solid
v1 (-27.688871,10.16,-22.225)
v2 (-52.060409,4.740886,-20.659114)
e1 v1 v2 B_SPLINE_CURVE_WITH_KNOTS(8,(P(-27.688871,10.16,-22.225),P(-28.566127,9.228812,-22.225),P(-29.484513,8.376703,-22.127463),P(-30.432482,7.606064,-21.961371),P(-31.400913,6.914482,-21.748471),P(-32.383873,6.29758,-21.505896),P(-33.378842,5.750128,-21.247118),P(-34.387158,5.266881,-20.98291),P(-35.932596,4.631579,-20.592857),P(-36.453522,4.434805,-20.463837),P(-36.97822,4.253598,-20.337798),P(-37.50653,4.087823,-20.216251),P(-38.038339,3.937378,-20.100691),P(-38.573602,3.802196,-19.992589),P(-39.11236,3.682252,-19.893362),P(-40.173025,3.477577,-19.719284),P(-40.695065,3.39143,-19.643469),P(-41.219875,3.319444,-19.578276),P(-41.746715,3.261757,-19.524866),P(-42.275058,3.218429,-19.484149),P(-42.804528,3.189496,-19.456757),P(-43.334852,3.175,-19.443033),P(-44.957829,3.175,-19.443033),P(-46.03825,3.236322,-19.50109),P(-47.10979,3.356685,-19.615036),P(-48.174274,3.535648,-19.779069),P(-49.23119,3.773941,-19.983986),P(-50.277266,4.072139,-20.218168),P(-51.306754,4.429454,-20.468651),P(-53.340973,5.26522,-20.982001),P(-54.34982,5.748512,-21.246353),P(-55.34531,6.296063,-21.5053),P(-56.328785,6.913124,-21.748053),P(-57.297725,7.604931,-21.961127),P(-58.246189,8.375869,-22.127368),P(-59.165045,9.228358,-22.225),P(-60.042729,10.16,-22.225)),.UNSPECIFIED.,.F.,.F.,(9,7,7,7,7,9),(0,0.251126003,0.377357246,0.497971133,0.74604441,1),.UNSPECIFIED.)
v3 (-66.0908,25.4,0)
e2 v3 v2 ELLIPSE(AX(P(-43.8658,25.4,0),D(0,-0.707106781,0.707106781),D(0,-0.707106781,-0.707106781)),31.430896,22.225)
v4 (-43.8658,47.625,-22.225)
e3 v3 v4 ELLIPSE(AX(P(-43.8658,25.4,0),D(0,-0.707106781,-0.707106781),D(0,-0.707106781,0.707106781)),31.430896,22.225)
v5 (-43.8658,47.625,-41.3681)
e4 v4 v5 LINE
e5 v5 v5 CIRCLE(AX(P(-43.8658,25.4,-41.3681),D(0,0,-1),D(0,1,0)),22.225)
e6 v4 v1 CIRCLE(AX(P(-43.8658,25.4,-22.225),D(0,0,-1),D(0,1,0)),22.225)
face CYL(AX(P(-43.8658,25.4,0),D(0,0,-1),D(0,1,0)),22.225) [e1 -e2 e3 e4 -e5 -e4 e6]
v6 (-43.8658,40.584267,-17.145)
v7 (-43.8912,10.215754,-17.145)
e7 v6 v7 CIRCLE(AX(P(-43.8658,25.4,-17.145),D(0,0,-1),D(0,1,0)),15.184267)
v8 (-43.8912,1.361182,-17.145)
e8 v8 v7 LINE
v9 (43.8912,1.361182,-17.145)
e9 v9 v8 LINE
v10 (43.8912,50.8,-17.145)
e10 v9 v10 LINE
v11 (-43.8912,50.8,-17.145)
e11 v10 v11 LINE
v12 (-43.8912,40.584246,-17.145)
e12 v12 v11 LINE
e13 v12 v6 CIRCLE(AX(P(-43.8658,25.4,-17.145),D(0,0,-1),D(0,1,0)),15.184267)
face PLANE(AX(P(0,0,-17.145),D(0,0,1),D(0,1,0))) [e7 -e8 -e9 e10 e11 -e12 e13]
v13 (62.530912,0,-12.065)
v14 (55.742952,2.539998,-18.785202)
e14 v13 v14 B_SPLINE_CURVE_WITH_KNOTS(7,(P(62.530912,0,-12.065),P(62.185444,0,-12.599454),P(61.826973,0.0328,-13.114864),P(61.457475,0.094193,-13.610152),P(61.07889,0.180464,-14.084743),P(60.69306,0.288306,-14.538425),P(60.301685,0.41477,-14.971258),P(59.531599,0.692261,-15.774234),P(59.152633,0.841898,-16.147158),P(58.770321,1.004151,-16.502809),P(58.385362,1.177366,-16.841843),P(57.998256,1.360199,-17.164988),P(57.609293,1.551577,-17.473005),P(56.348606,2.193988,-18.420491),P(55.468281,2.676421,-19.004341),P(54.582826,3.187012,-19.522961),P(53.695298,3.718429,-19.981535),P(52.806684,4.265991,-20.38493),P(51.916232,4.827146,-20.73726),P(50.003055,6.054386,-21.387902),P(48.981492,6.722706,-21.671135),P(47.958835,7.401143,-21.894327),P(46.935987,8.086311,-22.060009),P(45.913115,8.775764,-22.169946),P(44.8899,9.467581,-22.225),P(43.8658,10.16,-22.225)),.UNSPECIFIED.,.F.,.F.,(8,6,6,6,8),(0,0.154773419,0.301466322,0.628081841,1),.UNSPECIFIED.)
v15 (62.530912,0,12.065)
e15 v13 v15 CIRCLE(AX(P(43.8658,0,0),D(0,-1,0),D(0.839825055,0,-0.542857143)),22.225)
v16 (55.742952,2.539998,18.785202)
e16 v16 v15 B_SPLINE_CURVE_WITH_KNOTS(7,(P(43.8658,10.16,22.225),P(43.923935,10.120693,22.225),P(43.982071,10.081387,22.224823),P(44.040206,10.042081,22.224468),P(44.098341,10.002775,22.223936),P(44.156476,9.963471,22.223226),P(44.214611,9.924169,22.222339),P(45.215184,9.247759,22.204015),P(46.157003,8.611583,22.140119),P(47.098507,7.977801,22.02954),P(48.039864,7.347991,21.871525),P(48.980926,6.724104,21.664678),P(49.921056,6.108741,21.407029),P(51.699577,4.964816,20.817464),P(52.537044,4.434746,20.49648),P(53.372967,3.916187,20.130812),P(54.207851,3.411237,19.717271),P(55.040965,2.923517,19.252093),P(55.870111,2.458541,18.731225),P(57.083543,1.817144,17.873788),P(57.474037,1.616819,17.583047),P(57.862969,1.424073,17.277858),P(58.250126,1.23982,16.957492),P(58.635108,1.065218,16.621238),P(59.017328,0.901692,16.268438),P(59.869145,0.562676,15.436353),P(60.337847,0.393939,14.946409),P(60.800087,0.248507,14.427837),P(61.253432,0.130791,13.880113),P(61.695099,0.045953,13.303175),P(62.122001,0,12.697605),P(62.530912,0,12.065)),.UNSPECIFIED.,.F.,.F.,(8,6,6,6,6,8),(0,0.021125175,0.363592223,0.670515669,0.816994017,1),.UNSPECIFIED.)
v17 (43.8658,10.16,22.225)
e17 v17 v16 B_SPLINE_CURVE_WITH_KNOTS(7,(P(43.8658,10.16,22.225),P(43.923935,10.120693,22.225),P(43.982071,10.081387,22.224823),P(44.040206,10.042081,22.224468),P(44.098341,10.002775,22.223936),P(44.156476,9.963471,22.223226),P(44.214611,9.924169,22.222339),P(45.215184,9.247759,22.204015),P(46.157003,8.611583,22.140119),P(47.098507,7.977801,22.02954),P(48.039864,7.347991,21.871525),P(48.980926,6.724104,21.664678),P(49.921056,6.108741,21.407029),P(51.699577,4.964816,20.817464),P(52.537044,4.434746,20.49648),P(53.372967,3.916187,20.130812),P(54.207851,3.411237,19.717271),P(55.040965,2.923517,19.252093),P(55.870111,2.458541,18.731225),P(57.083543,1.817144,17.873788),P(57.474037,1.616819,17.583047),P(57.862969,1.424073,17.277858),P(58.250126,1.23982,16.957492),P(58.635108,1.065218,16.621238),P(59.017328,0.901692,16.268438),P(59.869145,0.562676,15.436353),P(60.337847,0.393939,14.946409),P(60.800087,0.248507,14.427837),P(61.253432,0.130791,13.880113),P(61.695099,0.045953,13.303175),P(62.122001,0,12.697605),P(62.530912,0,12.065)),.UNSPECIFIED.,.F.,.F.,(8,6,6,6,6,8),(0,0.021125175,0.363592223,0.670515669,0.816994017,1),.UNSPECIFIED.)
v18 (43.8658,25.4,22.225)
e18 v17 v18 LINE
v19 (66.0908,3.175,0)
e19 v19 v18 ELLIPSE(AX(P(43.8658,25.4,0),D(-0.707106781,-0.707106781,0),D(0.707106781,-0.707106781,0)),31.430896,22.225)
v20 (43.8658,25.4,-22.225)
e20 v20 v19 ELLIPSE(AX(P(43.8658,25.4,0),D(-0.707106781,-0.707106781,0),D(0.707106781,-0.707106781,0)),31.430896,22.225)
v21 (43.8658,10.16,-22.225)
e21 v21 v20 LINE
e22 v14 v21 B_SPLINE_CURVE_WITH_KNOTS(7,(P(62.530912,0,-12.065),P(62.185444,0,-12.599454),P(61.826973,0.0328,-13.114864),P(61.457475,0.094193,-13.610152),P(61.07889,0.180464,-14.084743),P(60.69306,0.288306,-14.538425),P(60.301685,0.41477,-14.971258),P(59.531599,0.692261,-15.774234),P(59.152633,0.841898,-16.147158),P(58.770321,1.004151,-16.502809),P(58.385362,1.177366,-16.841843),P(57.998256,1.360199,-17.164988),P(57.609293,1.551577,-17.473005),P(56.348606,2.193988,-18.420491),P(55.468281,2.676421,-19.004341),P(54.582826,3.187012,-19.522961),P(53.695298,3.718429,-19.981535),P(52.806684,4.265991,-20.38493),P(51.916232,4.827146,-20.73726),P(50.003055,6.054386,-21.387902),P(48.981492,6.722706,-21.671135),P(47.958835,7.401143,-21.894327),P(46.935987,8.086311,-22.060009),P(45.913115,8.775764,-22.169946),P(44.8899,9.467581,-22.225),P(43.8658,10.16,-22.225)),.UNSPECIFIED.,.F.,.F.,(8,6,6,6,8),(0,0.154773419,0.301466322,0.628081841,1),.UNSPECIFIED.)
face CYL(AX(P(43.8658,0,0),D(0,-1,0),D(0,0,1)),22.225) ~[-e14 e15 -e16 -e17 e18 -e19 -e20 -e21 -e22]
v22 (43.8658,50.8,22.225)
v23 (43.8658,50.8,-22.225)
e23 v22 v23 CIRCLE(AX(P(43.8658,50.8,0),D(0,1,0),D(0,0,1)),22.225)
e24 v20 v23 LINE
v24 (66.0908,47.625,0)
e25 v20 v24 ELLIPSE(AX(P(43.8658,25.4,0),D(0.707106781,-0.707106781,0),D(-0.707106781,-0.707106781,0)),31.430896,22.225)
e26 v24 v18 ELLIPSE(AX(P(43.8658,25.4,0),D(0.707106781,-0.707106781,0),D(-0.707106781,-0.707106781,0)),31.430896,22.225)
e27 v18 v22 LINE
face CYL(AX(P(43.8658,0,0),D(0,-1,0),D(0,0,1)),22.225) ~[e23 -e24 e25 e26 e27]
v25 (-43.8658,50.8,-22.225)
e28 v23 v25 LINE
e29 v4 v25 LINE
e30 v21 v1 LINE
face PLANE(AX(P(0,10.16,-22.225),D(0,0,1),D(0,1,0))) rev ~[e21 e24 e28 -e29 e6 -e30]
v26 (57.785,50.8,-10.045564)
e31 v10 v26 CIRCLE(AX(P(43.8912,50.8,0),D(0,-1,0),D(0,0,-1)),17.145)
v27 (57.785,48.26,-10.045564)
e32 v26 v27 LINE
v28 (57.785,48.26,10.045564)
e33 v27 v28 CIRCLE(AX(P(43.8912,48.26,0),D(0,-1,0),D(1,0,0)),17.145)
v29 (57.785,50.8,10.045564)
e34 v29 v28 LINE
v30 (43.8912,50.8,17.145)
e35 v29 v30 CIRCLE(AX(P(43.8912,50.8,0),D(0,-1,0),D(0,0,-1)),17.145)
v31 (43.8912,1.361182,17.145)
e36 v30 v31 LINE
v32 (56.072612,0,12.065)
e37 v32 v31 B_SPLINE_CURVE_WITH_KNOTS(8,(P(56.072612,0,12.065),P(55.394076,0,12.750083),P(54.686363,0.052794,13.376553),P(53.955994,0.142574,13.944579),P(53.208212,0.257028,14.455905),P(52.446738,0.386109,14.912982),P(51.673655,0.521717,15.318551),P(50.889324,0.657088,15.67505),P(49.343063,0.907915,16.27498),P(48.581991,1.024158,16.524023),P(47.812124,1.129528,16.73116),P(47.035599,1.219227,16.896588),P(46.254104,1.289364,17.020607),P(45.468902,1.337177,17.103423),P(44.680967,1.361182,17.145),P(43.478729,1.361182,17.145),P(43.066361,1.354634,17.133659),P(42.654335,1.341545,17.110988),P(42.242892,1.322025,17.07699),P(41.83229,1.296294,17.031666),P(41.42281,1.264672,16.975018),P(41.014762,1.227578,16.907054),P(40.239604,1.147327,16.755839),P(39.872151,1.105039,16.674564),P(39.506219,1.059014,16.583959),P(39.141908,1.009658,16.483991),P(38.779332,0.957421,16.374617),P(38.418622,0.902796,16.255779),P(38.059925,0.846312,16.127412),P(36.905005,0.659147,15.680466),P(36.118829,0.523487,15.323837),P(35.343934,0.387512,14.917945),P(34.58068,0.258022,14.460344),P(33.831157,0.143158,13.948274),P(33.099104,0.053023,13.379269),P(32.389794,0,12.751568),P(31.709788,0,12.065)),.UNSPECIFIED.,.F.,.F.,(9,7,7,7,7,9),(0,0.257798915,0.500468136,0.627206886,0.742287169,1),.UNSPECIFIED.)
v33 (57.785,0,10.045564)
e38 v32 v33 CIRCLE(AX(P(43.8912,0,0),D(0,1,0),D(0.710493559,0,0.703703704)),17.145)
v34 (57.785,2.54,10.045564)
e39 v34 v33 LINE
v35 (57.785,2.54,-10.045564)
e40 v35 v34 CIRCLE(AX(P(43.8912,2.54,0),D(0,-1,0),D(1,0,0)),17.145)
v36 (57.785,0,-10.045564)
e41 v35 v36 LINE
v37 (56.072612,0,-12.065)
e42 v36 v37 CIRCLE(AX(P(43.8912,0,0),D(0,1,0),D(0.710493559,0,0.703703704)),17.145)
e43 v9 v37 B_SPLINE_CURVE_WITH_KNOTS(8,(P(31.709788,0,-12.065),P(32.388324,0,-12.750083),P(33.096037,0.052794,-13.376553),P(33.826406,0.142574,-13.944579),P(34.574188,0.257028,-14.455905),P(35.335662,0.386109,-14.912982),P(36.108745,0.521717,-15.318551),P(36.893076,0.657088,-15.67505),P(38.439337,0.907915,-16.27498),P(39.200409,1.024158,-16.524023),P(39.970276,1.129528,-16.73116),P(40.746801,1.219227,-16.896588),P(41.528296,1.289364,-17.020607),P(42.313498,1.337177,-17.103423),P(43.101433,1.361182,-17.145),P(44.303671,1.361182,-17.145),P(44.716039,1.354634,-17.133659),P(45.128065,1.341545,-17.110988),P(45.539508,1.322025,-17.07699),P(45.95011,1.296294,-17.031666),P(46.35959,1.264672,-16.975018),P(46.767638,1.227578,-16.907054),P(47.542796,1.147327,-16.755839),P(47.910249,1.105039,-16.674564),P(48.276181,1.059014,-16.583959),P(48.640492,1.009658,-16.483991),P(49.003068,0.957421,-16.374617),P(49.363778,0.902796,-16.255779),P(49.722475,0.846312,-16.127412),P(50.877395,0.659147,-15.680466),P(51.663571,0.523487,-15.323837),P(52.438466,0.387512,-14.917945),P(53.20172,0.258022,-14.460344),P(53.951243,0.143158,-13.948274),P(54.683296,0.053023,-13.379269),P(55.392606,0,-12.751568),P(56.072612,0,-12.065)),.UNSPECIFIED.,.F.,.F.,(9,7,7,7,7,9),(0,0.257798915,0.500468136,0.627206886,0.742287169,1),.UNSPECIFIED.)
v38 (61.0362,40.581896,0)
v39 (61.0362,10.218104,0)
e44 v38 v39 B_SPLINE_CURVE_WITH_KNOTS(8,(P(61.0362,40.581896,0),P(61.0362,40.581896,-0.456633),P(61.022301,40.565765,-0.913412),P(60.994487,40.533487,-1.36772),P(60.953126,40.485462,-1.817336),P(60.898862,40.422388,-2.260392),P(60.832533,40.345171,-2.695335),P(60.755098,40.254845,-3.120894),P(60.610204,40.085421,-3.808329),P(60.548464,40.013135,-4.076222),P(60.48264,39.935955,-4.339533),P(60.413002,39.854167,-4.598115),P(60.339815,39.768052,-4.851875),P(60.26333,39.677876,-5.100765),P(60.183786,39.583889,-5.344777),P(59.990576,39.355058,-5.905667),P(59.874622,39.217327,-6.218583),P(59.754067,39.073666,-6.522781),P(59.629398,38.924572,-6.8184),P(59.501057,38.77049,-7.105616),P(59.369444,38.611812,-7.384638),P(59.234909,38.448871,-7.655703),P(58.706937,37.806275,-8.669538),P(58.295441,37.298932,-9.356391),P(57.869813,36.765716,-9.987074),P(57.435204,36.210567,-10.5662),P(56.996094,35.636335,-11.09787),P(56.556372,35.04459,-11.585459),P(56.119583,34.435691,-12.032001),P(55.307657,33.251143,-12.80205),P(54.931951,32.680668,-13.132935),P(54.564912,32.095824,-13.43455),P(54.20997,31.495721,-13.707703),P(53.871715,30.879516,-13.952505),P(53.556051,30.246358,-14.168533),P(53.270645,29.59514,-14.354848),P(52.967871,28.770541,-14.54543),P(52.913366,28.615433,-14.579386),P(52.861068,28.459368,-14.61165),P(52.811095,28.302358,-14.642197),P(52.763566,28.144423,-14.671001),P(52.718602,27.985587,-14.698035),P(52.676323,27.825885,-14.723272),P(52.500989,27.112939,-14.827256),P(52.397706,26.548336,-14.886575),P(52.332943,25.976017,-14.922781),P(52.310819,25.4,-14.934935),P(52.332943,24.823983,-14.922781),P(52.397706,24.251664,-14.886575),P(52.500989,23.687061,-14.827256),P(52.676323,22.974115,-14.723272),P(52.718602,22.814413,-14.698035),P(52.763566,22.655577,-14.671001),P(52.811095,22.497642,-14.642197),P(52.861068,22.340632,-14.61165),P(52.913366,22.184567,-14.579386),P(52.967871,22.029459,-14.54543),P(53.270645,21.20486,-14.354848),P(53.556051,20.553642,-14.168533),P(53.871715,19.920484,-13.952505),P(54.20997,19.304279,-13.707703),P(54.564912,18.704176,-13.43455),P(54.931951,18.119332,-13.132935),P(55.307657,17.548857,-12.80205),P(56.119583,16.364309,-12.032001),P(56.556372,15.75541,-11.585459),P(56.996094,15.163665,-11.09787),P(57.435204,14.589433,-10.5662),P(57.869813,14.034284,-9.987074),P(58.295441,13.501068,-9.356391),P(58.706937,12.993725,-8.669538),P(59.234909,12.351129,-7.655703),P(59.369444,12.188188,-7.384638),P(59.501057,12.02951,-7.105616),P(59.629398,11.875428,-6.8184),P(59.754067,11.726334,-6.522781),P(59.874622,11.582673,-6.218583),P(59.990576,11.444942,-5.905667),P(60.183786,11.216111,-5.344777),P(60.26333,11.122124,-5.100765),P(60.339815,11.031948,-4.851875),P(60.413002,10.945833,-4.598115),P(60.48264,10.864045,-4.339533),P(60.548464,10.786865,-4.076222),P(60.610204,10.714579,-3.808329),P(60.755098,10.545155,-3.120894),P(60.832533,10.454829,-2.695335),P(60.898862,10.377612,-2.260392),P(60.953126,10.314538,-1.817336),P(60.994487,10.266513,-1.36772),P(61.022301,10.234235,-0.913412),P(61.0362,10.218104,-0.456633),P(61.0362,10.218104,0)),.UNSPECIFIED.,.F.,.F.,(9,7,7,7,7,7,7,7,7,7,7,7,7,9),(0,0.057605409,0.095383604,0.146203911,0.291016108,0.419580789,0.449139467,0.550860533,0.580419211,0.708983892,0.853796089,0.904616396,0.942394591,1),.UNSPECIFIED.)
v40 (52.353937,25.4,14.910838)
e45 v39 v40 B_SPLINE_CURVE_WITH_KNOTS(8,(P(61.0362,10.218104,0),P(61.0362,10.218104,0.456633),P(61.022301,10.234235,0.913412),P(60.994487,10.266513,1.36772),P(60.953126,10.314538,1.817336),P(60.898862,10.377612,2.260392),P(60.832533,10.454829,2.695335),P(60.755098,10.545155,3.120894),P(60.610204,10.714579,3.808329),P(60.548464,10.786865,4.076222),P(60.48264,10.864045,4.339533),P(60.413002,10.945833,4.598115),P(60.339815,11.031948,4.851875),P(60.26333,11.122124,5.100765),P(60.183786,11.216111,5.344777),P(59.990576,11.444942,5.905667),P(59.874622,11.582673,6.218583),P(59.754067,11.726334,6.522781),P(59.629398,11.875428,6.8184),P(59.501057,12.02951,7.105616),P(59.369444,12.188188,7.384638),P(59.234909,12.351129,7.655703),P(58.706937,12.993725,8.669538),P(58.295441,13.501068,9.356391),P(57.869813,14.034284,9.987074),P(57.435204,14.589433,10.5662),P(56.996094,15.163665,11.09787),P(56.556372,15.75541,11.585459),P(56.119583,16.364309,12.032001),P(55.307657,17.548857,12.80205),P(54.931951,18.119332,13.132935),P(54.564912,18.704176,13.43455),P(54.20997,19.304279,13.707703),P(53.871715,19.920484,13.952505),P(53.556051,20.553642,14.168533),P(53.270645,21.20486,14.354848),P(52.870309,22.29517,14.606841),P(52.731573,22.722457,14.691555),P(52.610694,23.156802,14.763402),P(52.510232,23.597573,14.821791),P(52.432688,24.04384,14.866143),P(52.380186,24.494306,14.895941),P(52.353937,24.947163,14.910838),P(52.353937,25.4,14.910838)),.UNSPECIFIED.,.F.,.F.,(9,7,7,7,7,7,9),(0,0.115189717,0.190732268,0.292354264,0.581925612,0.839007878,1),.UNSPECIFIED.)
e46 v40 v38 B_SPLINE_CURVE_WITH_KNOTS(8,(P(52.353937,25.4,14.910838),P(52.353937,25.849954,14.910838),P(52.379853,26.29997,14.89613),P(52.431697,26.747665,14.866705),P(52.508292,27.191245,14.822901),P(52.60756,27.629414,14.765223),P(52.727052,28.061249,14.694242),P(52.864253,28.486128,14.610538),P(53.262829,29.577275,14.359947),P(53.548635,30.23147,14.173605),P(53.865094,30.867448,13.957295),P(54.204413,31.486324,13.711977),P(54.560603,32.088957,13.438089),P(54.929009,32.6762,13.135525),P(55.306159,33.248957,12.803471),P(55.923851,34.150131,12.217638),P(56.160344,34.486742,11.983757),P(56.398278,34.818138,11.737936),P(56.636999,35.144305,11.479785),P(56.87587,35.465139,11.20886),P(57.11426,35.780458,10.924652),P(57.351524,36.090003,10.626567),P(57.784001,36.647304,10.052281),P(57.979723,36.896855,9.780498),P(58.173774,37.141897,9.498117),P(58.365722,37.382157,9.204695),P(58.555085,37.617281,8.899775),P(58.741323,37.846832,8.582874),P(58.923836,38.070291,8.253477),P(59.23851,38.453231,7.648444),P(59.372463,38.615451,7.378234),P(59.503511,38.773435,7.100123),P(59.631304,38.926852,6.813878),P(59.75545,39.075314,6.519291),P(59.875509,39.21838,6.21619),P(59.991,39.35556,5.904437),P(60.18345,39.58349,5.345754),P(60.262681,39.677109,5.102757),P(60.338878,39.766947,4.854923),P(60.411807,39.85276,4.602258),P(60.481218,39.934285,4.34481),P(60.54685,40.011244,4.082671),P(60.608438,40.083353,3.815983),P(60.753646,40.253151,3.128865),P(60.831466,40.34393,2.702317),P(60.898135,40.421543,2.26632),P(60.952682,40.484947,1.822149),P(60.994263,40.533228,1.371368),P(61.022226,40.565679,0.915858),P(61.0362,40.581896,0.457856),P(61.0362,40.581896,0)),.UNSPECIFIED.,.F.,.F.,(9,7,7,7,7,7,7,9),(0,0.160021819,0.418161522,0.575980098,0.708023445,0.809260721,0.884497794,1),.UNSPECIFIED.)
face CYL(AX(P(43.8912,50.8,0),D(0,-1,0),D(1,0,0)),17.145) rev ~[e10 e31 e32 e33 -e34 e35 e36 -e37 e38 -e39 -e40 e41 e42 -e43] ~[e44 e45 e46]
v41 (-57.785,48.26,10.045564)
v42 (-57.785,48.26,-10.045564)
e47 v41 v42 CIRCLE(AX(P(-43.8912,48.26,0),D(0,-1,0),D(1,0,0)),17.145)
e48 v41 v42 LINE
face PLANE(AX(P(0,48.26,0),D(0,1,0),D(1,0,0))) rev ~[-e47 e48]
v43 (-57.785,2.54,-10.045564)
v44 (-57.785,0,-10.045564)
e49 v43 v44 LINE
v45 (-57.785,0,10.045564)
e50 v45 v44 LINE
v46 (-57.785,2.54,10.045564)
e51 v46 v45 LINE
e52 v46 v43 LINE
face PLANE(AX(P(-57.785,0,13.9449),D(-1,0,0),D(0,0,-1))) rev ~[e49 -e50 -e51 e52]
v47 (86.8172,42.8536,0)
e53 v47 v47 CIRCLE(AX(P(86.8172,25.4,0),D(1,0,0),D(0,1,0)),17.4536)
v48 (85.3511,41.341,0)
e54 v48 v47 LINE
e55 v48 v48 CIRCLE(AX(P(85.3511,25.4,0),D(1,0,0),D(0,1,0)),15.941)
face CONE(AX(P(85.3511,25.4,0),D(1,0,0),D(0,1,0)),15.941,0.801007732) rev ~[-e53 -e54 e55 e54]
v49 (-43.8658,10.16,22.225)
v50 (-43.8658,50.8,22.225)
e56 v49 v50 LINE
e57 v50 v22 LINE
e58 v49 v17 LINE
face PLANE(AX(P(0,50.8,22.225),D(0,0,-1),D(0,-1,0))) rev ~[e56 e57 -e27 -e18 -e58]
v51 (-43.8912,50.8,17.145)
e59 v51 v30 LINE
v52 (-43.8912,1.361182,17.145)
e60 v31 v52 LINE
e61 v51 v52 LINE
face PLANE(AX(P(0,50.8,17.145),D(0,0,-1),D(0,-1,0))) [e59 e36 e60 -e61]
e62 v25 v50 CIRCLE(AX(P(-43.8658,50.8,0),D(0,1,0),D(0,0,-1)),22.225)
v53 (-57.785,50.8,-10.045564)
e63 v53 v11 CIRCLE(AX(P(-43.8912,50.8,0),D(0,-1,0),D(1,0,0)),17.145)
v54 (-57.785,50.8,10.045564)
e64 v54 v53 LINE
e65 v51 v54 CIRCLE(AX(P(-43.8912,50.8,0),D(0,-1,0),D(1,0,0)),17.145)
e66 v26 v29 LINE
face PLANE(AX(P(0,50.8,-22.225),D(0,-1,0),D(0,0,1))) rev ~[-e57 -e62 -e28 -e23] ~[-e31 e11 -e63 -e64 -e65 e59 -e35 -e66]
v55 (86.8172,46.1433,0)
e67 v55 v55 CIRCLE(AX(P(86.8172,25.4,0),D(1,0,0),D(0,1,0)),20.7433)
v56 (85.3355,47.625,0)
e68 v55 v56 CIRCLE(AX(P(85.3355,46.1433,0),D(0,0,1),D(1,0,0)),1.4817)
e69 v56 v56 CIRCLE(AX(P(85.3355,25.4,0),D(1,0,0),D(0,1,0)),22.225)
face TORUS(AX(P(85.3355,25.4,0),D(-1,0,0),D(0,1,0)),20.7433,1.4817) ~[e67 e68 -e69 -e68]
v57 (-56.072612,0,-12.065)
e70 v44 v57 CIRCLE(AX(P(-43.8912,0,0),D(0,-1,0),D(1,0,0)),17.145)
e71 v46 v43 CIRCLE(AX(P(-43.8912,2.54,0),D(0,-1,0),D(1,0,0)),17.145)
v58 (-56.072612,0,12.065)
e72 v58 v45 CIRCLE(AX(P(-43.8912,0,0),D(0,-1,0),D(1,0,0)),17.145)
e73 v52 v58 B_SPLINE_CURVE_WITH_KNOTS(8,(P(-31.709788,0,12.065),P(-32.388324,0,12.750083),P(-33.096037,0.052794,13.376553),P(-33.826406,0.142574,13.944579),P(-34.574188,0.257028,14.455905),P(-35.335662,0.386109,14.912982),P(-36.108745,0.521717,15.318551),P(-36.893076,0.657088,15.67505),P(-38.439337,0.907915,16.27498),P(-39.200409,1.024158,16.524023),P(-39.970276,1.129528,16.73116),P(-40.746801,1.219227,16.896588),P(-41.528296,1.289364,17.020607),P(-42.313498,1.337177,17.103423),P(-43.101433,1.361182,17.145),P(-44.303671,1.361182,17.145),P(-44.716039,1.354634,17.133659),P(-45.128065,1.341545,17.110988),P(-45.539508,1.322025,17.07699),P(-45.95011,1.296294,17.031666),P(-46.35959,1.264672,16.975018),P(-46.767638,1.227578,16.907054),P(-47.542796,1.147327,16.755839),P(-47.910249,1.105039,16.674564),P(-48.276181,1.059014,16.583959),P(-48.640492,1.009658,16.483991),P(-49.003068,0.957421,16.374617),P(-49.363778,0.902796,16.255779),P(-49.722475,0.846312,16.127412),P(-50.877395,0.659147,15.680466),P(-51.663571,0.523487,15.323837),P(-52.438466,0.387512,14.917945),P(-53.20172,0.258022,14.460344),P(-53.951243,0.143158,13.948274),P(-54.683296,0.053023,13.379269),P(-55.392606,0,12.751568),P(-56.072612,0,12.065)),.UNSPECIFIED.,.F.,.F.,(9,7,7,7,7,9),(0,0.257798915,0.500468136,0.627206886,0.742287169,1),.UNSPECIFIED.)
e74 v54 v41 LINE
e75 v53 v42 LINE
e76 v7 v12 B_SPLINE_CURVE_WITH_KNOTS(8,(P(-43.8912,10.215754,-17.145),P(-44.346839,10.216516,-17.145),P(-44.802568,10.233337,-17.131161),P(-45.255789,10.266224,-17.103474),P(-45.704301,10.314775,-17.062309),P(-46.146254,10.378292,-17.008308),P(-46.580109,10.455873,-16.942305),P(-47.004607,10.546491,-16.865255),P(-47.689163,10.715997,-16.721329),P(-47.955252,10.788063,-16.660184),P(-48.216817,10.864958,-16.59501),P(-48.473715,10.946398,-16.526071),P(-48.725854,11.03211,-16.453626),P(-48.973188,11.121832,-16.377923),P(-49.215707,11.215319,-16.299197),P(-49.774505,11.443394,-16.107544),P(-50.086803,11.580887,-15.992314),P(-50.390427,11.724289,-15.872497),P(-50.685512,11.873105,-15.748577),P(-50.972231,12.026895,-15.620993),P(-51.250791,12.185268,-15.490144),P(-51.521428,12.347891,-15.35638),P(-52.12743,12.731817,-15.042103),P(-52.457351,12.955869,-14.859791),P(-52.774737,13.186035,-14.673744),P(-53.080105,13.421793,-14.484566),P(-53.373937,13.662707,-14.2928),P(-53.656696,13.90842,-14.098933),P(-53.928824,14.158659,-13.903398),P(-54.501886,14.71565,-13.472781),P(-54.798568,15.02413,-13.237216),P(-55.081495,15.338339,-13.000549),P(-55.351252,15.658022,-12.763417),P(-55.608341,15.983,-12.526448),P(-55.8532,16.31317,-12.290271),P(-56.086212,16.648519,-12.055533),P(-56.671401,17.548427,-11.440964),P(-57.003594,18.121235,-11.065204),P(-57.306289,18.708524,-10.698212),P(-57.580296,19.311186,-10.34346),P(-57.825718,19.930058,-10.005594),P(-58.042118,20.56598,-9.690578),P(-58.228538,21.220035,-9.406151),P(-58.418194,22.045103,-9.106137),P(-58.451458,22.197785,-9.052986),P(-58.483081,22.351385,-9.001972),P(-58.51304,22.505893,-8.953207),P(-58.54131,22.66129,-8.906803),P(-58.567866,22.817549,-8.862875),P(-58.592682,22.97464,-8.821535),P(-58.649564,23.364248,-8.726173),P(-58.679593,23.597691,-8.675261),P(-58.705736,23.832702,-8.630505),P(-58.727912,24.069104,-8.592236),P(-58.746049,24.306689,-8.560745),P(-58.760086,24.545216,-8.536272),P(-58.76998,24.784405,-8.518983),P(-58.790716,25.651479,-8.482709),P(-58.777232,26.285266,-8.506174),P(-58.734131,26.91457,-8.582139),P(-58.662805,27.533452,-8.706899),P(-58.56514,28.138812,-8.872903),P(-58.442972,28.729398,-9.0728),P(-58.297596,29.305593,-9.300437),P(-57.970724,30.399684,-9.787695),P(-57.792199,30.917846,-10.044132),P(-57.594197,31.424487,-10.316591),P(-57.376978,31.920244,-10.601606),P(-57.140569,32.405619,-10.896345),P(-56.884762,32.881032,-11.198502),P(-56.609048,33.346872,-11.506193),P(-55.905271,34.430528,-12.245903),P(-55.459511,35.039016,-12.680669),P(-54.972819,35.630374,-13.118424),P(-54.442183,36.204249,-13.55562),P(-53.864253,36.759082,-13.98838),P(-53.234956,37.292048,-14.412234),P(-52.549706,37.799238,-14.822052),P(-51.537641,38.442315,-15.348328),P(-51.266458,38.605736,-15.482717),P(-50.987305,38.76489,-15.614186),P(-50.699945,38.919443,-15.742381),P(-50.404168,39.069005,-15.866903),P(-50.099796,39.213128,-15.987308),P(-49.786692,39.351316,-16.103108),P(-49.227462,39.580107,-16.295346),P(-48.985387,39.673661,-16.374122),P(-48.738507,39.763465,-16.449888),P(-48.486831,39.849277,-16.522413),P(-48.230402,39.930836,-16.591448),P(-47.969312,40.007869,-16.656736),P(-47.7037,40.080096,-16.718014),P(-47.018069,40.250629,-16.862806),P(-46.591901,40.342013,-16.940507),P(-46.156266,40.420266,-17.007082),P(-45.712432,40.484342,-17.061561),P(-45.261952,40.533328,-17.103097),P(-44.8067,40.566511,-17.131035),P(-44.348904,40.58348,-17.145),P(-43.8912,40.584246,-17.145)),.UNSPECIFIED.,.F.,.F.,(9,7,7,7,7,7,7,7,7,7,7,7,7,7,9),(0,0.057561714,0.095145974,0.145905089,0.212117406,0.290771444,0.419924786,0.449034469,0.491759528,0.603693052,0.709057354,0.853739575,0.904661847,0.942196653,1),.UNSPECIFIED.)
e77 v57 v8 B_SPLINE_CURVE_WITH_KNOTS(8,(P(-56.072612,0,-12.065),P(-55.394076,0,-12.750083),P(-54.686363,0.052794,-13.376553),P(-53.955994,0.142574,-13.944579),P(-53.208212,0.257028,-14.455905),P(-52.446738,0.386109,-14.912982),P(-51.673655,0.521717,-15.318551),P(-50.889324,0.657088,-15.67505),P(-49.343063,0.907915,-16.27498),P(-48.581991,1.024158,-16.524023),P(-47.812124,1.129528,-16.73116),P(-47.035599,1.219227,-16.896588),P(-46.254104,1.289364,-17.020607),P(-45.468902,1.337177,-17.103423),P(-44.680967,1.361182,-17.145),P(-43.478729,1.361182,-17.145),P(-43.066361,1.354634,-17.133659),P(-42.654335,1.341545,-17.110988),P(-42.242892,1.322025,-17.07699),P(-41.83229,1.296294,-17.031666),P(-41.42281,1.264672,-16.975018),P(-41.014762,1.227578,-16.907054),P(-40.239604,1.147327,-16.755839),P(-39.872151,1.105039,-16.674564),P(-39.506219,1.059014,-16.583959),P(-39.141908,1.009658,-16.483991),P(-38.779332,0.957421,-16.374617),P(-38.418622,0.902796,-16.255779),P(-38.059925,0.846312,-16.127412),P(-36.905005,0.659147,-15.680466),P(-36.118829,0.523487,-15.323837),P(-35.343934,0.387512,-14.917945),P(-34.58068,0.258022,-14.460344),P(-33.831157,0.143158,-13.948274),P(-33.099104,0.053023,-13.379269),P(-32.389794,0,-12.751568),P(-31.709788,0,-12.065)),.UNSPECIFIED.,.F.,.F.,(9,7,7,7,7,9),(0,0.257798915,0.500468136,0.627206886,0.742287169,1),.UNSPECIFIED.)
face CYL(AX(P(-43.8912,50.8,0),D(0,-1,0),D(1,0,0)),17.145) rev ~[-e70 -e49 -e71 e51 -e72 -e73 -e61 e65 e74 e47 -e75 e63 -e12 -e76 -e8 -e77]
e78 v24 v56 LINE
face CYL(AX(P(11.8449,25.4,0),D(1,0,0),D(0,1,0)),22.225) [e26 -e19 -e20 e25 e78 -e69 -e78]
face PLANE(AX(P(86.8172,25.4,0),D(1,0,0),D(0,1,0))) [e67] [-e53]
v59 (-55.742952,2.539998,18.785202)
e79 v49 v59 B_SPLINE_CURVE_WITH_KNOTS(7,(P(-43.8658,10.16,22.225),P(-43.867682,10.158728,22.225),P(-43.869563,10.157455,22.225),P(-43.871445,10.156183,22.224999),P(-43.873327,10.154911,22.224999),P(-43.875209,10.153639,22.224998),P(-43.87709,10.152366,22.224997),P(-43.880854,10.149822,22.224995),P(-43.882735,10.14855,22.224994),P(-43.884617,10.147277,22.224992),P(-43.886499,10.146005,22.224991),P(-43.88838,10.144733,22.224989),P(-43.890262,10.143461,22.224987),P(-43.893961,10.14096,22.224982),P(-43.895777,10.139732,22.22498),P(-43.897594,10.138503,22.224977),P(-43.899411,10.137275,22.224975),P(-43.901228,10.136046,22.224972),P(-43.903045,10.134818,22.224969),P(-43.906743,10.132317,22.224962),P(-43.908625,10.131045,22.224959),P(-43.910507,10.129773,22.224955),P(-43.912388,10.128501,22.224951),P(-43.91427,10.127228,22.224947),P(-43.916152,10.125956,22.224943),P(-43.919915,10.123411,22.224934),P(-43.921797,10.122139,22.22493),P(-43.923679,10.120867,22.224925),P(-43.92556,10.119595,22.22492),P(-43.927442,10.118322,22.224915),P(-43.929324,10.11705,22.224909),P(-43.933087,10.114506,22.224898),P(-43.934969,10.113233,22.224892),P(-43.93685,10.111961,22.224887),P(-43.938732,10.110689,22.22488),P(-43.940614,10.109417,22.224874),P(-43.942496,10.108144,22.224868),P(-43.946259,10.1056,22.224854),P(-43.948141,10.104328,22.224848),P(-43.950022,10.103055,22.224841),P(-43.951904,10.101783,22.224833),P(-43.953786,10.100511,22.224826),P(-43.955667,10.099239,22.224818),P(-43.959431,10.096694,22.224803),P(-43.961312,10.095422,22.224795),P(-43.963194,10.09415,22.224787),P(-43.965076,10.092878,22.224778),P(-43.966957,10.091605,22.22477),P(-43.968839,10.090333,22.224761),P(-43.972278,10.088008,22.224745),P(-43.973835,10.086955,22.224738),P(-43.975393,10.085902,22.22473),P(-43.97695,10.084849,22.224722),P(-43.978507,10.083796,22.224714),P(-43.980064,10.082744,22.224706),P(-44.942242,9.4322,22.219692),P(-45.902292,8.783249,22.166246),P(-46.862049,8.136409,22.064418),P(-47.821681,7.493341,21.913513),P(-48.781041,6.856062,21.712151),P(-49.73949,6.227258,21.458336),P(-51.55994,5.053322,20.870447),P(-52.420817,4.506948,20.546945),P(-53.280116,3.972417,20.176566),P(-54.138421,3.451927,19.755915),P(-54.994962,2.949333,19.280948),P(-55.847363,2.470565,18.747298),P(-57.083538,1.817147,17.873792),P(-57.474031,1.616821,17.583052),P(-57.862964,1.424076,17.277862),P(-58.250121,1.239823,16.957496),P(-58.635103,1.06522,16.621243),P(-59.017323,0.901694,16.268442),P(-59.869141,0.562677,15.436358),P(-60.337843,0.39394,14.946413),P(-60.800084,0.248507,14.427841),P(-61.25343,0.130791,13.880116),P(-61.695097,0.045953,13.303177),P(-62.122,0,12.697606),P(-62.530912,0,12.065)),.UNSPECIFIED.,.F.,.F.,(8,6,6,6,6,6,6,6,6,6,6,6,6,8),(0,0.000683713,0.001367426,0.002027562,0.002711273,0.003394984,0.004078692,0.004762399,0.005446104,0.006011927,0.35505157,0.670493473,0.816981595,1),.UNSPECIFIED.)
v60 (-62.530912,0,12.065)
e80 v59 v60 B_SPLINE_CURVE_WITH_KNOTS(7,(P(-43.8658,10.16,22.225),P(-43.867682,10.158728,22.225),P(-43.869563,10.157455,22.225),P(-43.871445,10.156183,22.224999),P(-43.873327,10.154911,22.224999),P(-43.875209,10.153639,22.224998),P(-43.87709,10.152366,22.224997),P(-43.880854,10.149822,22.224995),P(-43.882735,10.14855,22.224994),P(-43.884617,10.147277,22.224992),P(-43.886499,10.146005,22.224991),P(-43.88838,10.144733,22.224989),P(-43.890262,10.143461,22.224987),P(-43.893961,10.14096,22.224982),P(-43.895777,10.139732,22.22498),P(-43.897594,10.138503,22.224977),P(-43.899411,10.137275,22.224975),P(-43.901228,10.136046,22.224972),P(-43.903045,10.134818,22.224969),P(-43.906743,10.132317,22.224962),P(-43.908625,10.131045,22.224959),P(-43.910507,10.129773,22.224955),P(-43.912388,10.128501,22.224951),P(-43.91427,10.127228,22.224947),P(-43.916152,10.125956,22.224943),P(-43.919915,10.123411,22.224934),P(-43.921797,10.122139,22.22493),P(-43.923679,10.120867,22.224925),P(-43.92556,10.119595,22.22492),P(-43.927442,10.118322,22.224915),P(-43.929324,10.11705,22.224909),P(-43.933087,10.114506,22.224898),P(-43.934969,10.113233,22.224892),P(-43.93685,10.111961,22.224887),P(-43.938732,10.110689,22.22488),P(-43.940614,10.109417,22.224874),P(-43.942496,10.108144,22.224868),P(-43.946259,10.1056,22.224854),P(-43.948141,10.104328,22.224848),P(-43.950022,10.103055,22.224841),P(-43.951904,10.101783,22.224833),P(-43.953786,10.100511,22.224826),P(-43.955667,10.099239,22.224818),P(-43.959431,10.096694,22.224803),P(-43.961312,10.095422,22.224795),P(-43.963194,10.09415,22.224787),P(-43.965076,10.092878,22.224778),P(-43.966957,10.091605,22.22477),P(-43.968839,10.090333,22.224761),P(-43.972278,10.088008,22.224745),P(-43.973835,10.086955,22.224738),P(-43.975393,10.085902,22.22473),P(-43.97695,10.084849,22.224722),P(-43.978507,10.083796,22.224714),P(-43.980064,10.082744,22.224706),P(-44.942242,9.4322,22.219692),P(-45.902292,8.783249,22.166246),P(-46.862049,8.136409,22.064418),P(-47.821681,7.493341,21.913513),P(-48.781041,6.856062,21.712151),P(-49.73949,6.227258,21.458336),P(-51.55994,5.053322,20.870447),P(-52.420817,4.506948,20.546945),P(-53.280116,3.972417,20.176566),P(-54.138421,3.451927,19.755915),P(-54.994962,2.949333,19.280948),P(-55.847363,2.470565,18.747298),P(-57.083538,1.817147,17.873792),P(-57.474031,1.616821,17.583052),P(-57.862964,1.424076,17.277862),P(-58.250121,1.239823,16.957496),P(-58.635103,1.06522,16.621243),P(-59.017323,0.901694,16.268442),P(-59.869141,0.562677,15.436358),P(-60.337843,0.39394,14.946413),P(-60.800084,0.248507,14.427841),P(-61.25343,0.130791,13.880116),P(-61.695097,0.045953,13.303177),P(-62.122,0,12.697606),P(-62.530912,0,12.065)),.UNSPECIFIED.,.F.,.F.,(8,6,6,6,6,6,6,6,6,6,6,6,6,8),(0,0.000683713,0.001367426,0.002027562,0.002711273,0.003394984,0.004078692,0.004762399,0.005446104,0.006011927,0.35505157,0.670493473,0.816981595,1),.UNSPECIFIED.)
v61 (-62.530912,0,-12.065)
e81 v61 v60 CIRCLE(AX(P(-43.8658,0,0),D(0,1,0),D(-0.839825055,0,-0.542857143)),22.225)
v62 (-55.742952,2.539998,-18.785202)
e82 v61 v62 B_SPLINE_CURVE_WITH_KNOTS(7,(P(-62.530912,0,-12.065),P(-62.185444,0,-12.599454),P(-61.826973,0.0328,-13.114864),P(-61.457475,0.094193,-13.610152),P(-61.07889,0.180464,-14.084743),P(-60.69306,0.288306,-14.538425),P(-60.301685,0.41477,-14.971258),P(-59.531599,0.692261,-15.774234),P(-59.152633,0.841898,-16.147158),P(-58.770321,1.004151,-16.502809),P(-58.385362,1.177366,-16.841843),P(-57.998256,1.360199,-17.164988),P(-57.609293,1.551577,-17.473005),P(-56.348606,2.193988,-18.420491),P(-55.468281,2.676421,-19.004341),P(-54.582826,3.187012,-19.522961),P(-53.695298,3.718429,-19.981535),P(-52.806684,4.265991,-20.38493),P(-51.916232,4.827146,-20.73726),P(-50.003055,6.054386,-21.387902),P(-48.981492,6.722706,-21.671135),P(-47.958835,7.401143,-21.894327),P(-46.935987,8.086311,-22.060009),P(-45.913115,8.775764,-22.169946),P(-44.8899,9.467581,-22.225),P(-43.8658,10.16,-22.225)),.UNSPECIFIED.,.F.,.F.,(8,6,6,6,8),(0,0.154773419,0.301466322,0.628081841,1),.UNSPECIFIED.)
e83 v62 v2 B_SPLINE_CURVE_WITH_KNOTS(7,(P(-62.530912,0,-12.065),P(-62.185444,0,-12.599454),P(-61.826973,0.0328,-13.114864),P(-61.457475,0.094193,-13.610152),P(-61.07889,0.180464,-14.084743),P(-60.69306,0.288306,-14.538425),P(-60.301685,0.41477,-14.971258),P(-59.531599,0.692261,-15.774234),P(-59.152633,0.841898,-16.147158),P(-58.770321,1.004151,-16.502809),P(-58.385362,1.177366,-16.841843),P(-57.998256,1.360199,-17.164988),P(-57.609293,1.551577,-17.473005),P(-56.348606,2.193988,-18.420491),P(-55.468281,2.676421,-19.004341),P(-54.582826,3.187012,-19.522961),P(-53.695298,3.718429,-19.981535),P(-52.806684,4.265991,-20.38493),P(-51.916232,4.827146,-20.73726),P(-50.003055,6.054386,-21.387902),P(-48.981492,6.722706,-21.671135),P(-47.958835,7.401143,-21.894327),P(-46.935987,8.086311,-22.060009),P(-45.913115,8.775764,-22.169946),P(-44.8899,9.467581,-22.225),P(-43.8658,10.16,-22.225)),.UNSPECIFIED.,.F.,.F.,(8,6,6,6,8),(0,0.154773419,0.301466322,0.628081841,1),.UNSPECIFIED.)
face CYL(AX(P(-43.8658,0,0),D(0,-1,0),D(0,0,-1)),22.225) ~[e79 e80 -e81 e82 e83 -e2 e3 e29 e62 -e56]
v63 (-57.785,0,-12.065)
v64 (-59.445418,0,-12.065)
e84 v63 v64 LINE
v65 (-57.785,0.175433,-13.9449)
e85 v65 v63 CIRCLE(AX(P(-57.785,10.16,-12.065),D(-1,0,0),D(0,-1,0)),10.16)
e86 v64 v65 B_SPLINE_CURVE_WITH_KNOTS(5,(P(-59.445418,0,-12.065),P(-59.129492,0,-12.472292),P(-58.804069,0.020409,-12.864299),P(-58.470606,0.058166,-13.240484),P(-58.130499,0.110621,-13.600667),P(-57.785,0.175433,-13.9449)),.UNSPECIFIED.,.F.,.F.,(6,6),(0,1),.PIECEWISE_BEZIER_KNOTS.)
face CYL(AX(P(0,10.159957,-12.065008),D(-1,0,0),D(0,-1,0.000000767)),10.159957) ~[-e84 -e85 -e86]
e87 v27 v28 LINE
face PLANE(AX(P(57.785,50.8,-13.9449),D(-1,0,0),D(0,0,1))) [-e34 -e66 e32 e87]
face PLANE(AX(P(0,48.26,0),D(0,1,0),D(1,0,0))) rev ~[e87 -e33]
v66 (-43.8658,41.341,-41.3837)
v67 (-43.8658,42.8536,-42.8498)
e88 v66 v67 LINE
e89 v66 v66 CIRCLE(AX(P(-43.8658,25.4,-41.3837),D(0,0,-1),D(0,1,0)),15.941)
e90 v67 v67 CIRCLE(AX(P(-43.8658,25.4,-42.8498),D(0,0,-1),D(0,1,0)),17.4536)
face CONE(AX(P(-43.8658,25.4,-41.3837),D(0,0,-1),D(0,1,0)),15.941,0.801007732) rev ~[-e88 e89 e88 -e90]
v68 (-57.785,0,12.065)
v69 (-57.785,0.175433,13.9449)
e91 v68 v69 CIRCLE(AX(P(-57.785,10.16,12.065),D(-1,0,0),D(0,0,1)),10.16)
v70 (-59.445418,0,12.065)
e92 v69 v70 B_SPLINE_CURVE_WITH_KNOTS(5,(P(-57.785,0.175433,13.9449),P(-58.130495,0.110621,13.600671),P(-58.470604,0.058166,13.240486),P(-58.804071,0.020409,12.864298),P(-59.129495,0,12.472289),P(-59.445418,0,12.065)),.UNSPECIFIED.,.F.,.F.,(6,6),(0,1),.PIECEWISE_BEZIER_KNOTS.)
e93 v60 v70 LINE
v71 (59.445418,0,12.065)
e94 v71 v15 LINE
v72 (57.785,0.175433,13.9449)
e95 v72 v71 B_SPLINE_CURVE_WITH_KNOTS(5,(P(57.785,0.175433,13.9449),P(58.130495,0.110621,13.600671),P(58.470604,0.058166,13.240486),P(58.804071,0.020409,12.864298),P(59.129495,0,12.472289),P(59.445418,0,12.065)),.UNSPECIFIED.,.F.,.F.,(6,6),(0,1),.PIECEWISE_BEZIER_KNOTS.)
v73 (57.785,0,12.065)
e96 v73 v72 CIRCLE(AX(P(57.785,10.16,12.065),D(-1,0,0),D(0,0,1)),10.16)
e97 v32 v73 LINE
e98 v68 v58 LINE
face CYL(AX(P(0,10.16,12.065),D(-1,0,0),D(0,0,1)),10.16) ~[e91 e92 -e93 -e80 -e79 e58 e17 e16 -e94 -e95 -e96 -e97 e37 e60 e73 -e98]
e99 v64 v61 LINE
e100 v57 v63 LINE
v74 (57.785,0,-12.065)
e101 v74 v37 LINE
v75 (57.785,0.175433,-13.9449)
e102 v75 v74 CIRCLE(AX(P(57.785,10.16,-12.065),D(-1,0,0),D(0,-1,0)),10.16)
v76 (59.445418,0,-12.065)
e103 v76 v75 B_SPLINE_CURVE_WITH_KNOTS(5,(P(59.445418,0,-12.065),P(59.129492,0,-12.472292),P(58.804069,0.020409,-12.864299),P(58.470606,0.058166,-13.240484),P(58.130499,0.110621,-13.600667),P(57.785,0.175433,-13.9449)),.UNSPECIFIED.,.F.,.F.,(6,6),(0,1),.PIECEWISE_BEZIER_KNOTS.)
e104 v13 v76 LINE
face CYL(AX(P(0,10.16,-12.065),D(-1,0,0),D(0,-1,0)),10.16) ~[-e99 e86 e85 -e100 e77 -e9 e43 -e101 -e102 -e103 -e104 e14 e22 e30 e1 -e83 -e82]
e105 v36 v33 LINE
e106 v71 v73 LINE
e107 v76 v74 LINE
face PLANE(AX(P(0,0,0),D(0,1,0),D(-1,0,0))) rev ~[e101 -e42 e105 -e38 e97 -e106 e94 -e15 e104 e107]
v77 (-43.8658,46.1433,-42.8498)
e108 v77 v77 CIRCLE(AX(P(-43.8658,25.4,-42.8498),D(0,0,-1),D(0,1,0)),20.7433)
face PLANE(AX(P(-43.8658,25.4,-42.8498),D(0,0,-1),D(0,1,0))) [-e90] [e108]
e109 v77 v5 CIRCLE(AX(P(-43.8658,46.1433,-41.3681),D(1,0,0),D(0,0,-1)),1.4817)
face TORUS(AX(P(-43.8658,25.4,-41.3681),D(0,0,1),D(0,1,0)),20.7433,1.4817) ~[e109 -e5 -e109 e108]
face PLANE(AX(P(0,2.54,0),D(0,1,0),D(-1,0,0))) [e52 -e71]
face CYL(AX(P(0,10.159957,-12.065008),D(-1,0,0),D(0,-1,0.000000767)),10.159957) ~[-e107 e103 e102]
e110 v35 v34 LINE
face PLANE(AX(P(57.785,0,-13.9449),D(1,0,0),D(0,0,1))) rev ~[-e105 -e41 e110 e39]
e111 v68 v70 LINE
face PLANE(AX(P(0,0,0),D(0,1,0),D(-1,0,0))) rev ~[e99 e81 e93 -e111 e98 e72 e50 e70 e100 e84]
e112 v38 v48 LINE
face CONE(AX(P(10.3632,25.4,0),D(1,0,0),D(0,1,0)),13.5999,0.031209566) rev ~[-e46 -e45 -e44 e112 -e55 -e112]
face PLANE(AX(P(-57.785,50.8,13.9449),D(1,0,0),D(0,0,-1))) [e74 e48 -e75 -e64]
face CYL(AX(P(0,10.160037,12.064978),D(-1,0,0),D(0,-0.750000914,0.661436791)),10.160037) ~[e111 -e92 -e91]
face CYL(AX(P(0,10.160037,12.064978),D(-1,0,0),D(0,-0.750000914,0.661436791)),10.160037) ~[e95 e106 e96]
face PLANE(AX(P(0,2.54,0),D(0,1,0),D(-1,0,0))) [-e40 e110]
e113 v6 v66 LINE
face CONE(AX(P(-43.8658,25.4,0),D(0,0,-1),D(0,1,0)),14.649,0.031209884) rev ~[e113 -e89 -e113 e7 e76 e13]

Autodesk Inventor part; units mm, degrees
ref_plane "YZ Plane" through (0, 0, 0) normal (1, 0, 0) x (0, 1, 0)
ref_plane "XZ Plane" through (0, 0, 0) normal (0, 1, 0) x (-1, 0, 0)
ref_plane "XY Plane" through (0, 0, 0) normal (0, 0, 1) x (1, 0, 0)
sketch "Sketch_1" plane through (0, 0, 0) normal (1, 0, 0) x (0, 1, 0)
  line L0 (50.8, 22.225) -> (10.16, 22.225)
  arc A0 (10.16, 22.225) -> (0, 12.065) centre (10.16, 12.065) ccw
  line L1 (0, 12.065) -> (0, -12.065)
  arc A1 (0, -12.065) -> (10.16, -22.225) centre (10.16, -12.065) ccw
  line L2 (10.16, -22.225) -> (50.8, -22.225)
  line L3 (50.8, -22.225) -> (50.8, 22.225)
extrude "Extrusion1" add sketch "Sketch_1" along normal mid plane 132.1816
sketch "Sketch_10" plane through (0, 0, 0) normal (0, 1, 0) x (-1, 0, 0)
  circle A0 centre (0, 0) radius 132.1816
  arc A1 (43.8658, -22.225) -> (43.8658, 22.225) centre (43.8658, 0) ccw
  line L0 (43.8658, 22.225) -> (-43.8658, 22.225)
  arc A2 (-43.8658, 22.225) -> (-43.8658, -22.225) centre (-43.8658, 0) ccw
  line L1 (-43.8658, -22.225) -> (43.8658, -22.225)
extrude "Extrusion2" cut sketch "Sketch_10" along normal blind 50.8
sketch "Sketch_7" plane through (0, 0, 0) normal (0, 0, 1) x (1, 0, 0)
  line L0 (86.8172, 25.4) -> (10.3632, 25.4)
  line L1 (10.3632, 25.4) -> (10.3632, 46.1433)
  arc A0 (11.8449, 47.625) -> (10.3632, 46.1433) centre (11.8449, 46.1433) ccw
  line L2 (11.8449, 47.625) -> (85.3355, 47.625)
  arc A1 (86.8172, 46.1433) -> (85.3355, 47.625) centre (85.3355, 46.1433) ccw
  line L3 (86.8172, 46.1433) -> (86.8172, 25.4)
  line L4 (86.8172, 25.4) -> (10.3632, 25.4)
revolve "Revolution1" add sketch "Sketch_7" angle 360 about axis through (86.8172, 25.4, 0) along (1, 0, 0)
sketch "Sketch_14" plane through (-43.8658, 0, 0) normal (1, 0, 0) x (0, 0, -1)
  line L0 (42.8498, 25.4) -> (0, 25.4)
  line L1 (0, 25.4) -> (0, 47.625)
  line L2 (0, 47.625) -> (41.3681, 47.625)
  arc A0 (42.8498, 46.1433) -> (41.3681, 47.625) centre (41.3681, 46.1433) ccw
  line L3 (42.8498, 46.1433) -> (42.8498, 25.4)
  line L4 (42.8498, 25.4) -> (0, 25.4)
revolve "Revolution2" add sketch "Sketch_14" angle 360 about axis through (-43.8658, 25.4, -42.8498) along (0, 0, -1)
sketch "Sketch_15" plane through (0, 0, 0) normal (1, 0, 0) x (0, 1, 0)
  line L0 (50.8, 17.145) -> (0, 17.145)
  arc A0 (0, 17.145) -> (-7.62, 9.525) centre (0, 9.525) ccw
  line L1 (-7.62, 9.525) -> (-7.62, -9.525)
  arc A1 (-7.62, -9.525) -> (0, -17.145) centre (0, -9.525) ccw
  line L2 (0, -17.145) -> (50.8, -17.145)
  line L3 (50.8, -17.145) -> (50.8, 17.145)
sketch "Sketch_17" plane through (0, 0, 0) normal (0, 0, 1) x (1, 0, 0)
  line L0 (-43.8912, -7.62) -> (-43.8912, 50.8)
  line L1 (-43.8912, 50.8) -> (-26.7462, 50.8)
  line L2 (-26.7462, 50.8) -> (-26.7462, 0)
  arc A0 (-34.3662, -7.62) -> (-26.7462, 0) centre (-34.3662, 0) ccw
  line L3 (-34.3662, -7.62) -> (-43.8912, -7.62)
  line L4 (-43.8912, -7.62) -> (-43.8912, 50.8)
revolve "Revolution3" cut sketch "Sketch_17" angle 360 about axis through (-43.8912, -7.62, 0) along (0, -1, 0)
extrude "Extrusion3" cut sketch "Sketch_15" along normal mid plane 87.7824
sketch "Sketch_3" plane through (0, 0, 0) normal (0, 0, 1) x (1, 0, 0)
  line L0 (43.8912, -7.62) -> (43.8912, 50.8)
  line L1 (43.8912, 50.8) -> (61.0362, 50.8)
  line L2 (61.0362, 50.8) -> (61.0362, 0)
  arc A0 (53.4162, -7.62) -> (61.0362, 0) centre (53.4162, 0) ccw
  line L3 (53.4162, -7.62) -> (43.8912, -7.62)
  line L4 (43.8912, -7.62) -> (43.8912, 50.8)
revolve "Revolution4" cut sketch "Sketch_3" angle 360 about axis through (43.8912, -7.62, 0) along (0, -1, 0)
sketch "Sketch_8" plane through (0, 50.8, 0) normal (0, 1, 0) x (1, 0, 0)
  arc A0 (57.785, -13.9449) -> (57.785, 13.9449) centre (43.8912, 0) ccw
  line L0 (57.785, 13.9449) -> (57.785, -13.9449)
extrude "Extrusion4" add sketch "Sketch_8" against normal blind 2.54
sketch "Sketch_9" plane through (0, 50.8, 0) normal (0, 1, 0) x (1, 0, 0)
  arc A0 (-57.785, 13.9449) -> (-57.785, -13.9449) centre (-43.8912, 0) ccw
  line L0 (-57.785, -13.9449) -> (-57.785, 13.9449)
extrude "Extrusion5" add sketch "Sketch_9" against normal blind 2.54
sketch "Sketch_4" plane through (0, 0, 0) normal (0, 1, 0) x (-1, 0, 0)
  arc A0 (-57.785, 13.9449) -> (-57.785, -13.9449) centre (-43.8912, 0) ccw
  line L0 (-57.785, -13.9449) -> (-57.785, 13.9449)
extrude "Extrusion6" add sketch "Sketch_4" along normal blind 2.54
sketch "Sketch_5" plane through (0, 0, 0) normal (0, 1, 0) x (-1, 0, 0)
  arc A0 (57.785, -13.9449) -> (57.785, 13.9449) centre (43.8912, 0) ccw
  line L0 (57.785, 13.9449) -> (57.785, -13.9449)
extrude "Extrusion7" add sketch "Sketch_5" along normal blind 2.54
sketch "Sketch_6" plane through (0, 0, 0) normal (1, 0, 0) x (0, 1, 0)
  line L0 (2.54, 22.225) -> (-50.8, 22.225)
  line L1 (-50.8, 22.225) -> (-50.8, -22.225)
  line L2 (-50.8, -22.225) -> (2.54, -22.225)
  line L3 (2.54, -22.225) -> (2.54, -18.7852)
  arc A0 (0, -12.065) -> (2.54, -18.7852) centre (10.16, -12.065) ccw
  line L4 (0, -12.065) -> (0, 12.065)
  arc A1 (2.54, 18.7852) -> (0, 12.065) centre (10.16, 12.065) ccw
  line L5 (2.54, 18.7852) -> (2.54, 22.225)
extrude "Extrusion8" cut sketch "Sketch_6" along normal mid plane 132.1816
sketch "Sketch_11" plane through (0, 0, 0) normal (0, 0, 1) x (1, 0, 0)
  line L0 (86.8172, 25.4) -> (10.3632, 25.4)
  line L1 (10.3632, 25.4) -> (10.3632, 38.9999)
  line L2 (10.3632, 38.9999) -> (85.3511, 41.341)
  line L3 (85.3511, 41.341) -> (86.8172, 42.8536)
  line L4 (86.8172, 42.8536) -> (86.8172, 25.4)
  line L5 (86.8172, 25.4) -> (10.3632, 25.4)
revolve "Revolution5" cut sketch "Sketch_11" angle 360 about axis through (86.8172, 25.4, 0) along (1, 0, 0)
thread "Thread1" size "1" designation "1 - 11.5 NPT" standard "NPT" length 23.876 offset 10.5764
sketch "Sketch_12" plane through (-43.8658, 0, 0) normal (1, 0, 0) x (0, 0, -1)
  line L0 (42.8498, 25.4) -> (0, 25.4)
  line L1 (0, 25.4) -> (0, 40.049)
  line L2 (0, 40.049) -> (41.3837, 41.341)
  line L3 (41.3837, 41.341) -> (42.8498, 42.8536)
  line L4 (42.8498, 42.8536) -> (42.8498, 25.4)
  line L5 (42.8498, 25.4) -> (0, 25.4)
revolve "Revolution6" cut sketch "Sketch_12" angle 360 about axis through (-43.8658, 25.4, -42.8498) along (0, 0, -1)
thread "Thread2" size "1" designation "1 - 11.5 NPT" standard "NPT" length 22.4208
properties part number "L37-TB"
